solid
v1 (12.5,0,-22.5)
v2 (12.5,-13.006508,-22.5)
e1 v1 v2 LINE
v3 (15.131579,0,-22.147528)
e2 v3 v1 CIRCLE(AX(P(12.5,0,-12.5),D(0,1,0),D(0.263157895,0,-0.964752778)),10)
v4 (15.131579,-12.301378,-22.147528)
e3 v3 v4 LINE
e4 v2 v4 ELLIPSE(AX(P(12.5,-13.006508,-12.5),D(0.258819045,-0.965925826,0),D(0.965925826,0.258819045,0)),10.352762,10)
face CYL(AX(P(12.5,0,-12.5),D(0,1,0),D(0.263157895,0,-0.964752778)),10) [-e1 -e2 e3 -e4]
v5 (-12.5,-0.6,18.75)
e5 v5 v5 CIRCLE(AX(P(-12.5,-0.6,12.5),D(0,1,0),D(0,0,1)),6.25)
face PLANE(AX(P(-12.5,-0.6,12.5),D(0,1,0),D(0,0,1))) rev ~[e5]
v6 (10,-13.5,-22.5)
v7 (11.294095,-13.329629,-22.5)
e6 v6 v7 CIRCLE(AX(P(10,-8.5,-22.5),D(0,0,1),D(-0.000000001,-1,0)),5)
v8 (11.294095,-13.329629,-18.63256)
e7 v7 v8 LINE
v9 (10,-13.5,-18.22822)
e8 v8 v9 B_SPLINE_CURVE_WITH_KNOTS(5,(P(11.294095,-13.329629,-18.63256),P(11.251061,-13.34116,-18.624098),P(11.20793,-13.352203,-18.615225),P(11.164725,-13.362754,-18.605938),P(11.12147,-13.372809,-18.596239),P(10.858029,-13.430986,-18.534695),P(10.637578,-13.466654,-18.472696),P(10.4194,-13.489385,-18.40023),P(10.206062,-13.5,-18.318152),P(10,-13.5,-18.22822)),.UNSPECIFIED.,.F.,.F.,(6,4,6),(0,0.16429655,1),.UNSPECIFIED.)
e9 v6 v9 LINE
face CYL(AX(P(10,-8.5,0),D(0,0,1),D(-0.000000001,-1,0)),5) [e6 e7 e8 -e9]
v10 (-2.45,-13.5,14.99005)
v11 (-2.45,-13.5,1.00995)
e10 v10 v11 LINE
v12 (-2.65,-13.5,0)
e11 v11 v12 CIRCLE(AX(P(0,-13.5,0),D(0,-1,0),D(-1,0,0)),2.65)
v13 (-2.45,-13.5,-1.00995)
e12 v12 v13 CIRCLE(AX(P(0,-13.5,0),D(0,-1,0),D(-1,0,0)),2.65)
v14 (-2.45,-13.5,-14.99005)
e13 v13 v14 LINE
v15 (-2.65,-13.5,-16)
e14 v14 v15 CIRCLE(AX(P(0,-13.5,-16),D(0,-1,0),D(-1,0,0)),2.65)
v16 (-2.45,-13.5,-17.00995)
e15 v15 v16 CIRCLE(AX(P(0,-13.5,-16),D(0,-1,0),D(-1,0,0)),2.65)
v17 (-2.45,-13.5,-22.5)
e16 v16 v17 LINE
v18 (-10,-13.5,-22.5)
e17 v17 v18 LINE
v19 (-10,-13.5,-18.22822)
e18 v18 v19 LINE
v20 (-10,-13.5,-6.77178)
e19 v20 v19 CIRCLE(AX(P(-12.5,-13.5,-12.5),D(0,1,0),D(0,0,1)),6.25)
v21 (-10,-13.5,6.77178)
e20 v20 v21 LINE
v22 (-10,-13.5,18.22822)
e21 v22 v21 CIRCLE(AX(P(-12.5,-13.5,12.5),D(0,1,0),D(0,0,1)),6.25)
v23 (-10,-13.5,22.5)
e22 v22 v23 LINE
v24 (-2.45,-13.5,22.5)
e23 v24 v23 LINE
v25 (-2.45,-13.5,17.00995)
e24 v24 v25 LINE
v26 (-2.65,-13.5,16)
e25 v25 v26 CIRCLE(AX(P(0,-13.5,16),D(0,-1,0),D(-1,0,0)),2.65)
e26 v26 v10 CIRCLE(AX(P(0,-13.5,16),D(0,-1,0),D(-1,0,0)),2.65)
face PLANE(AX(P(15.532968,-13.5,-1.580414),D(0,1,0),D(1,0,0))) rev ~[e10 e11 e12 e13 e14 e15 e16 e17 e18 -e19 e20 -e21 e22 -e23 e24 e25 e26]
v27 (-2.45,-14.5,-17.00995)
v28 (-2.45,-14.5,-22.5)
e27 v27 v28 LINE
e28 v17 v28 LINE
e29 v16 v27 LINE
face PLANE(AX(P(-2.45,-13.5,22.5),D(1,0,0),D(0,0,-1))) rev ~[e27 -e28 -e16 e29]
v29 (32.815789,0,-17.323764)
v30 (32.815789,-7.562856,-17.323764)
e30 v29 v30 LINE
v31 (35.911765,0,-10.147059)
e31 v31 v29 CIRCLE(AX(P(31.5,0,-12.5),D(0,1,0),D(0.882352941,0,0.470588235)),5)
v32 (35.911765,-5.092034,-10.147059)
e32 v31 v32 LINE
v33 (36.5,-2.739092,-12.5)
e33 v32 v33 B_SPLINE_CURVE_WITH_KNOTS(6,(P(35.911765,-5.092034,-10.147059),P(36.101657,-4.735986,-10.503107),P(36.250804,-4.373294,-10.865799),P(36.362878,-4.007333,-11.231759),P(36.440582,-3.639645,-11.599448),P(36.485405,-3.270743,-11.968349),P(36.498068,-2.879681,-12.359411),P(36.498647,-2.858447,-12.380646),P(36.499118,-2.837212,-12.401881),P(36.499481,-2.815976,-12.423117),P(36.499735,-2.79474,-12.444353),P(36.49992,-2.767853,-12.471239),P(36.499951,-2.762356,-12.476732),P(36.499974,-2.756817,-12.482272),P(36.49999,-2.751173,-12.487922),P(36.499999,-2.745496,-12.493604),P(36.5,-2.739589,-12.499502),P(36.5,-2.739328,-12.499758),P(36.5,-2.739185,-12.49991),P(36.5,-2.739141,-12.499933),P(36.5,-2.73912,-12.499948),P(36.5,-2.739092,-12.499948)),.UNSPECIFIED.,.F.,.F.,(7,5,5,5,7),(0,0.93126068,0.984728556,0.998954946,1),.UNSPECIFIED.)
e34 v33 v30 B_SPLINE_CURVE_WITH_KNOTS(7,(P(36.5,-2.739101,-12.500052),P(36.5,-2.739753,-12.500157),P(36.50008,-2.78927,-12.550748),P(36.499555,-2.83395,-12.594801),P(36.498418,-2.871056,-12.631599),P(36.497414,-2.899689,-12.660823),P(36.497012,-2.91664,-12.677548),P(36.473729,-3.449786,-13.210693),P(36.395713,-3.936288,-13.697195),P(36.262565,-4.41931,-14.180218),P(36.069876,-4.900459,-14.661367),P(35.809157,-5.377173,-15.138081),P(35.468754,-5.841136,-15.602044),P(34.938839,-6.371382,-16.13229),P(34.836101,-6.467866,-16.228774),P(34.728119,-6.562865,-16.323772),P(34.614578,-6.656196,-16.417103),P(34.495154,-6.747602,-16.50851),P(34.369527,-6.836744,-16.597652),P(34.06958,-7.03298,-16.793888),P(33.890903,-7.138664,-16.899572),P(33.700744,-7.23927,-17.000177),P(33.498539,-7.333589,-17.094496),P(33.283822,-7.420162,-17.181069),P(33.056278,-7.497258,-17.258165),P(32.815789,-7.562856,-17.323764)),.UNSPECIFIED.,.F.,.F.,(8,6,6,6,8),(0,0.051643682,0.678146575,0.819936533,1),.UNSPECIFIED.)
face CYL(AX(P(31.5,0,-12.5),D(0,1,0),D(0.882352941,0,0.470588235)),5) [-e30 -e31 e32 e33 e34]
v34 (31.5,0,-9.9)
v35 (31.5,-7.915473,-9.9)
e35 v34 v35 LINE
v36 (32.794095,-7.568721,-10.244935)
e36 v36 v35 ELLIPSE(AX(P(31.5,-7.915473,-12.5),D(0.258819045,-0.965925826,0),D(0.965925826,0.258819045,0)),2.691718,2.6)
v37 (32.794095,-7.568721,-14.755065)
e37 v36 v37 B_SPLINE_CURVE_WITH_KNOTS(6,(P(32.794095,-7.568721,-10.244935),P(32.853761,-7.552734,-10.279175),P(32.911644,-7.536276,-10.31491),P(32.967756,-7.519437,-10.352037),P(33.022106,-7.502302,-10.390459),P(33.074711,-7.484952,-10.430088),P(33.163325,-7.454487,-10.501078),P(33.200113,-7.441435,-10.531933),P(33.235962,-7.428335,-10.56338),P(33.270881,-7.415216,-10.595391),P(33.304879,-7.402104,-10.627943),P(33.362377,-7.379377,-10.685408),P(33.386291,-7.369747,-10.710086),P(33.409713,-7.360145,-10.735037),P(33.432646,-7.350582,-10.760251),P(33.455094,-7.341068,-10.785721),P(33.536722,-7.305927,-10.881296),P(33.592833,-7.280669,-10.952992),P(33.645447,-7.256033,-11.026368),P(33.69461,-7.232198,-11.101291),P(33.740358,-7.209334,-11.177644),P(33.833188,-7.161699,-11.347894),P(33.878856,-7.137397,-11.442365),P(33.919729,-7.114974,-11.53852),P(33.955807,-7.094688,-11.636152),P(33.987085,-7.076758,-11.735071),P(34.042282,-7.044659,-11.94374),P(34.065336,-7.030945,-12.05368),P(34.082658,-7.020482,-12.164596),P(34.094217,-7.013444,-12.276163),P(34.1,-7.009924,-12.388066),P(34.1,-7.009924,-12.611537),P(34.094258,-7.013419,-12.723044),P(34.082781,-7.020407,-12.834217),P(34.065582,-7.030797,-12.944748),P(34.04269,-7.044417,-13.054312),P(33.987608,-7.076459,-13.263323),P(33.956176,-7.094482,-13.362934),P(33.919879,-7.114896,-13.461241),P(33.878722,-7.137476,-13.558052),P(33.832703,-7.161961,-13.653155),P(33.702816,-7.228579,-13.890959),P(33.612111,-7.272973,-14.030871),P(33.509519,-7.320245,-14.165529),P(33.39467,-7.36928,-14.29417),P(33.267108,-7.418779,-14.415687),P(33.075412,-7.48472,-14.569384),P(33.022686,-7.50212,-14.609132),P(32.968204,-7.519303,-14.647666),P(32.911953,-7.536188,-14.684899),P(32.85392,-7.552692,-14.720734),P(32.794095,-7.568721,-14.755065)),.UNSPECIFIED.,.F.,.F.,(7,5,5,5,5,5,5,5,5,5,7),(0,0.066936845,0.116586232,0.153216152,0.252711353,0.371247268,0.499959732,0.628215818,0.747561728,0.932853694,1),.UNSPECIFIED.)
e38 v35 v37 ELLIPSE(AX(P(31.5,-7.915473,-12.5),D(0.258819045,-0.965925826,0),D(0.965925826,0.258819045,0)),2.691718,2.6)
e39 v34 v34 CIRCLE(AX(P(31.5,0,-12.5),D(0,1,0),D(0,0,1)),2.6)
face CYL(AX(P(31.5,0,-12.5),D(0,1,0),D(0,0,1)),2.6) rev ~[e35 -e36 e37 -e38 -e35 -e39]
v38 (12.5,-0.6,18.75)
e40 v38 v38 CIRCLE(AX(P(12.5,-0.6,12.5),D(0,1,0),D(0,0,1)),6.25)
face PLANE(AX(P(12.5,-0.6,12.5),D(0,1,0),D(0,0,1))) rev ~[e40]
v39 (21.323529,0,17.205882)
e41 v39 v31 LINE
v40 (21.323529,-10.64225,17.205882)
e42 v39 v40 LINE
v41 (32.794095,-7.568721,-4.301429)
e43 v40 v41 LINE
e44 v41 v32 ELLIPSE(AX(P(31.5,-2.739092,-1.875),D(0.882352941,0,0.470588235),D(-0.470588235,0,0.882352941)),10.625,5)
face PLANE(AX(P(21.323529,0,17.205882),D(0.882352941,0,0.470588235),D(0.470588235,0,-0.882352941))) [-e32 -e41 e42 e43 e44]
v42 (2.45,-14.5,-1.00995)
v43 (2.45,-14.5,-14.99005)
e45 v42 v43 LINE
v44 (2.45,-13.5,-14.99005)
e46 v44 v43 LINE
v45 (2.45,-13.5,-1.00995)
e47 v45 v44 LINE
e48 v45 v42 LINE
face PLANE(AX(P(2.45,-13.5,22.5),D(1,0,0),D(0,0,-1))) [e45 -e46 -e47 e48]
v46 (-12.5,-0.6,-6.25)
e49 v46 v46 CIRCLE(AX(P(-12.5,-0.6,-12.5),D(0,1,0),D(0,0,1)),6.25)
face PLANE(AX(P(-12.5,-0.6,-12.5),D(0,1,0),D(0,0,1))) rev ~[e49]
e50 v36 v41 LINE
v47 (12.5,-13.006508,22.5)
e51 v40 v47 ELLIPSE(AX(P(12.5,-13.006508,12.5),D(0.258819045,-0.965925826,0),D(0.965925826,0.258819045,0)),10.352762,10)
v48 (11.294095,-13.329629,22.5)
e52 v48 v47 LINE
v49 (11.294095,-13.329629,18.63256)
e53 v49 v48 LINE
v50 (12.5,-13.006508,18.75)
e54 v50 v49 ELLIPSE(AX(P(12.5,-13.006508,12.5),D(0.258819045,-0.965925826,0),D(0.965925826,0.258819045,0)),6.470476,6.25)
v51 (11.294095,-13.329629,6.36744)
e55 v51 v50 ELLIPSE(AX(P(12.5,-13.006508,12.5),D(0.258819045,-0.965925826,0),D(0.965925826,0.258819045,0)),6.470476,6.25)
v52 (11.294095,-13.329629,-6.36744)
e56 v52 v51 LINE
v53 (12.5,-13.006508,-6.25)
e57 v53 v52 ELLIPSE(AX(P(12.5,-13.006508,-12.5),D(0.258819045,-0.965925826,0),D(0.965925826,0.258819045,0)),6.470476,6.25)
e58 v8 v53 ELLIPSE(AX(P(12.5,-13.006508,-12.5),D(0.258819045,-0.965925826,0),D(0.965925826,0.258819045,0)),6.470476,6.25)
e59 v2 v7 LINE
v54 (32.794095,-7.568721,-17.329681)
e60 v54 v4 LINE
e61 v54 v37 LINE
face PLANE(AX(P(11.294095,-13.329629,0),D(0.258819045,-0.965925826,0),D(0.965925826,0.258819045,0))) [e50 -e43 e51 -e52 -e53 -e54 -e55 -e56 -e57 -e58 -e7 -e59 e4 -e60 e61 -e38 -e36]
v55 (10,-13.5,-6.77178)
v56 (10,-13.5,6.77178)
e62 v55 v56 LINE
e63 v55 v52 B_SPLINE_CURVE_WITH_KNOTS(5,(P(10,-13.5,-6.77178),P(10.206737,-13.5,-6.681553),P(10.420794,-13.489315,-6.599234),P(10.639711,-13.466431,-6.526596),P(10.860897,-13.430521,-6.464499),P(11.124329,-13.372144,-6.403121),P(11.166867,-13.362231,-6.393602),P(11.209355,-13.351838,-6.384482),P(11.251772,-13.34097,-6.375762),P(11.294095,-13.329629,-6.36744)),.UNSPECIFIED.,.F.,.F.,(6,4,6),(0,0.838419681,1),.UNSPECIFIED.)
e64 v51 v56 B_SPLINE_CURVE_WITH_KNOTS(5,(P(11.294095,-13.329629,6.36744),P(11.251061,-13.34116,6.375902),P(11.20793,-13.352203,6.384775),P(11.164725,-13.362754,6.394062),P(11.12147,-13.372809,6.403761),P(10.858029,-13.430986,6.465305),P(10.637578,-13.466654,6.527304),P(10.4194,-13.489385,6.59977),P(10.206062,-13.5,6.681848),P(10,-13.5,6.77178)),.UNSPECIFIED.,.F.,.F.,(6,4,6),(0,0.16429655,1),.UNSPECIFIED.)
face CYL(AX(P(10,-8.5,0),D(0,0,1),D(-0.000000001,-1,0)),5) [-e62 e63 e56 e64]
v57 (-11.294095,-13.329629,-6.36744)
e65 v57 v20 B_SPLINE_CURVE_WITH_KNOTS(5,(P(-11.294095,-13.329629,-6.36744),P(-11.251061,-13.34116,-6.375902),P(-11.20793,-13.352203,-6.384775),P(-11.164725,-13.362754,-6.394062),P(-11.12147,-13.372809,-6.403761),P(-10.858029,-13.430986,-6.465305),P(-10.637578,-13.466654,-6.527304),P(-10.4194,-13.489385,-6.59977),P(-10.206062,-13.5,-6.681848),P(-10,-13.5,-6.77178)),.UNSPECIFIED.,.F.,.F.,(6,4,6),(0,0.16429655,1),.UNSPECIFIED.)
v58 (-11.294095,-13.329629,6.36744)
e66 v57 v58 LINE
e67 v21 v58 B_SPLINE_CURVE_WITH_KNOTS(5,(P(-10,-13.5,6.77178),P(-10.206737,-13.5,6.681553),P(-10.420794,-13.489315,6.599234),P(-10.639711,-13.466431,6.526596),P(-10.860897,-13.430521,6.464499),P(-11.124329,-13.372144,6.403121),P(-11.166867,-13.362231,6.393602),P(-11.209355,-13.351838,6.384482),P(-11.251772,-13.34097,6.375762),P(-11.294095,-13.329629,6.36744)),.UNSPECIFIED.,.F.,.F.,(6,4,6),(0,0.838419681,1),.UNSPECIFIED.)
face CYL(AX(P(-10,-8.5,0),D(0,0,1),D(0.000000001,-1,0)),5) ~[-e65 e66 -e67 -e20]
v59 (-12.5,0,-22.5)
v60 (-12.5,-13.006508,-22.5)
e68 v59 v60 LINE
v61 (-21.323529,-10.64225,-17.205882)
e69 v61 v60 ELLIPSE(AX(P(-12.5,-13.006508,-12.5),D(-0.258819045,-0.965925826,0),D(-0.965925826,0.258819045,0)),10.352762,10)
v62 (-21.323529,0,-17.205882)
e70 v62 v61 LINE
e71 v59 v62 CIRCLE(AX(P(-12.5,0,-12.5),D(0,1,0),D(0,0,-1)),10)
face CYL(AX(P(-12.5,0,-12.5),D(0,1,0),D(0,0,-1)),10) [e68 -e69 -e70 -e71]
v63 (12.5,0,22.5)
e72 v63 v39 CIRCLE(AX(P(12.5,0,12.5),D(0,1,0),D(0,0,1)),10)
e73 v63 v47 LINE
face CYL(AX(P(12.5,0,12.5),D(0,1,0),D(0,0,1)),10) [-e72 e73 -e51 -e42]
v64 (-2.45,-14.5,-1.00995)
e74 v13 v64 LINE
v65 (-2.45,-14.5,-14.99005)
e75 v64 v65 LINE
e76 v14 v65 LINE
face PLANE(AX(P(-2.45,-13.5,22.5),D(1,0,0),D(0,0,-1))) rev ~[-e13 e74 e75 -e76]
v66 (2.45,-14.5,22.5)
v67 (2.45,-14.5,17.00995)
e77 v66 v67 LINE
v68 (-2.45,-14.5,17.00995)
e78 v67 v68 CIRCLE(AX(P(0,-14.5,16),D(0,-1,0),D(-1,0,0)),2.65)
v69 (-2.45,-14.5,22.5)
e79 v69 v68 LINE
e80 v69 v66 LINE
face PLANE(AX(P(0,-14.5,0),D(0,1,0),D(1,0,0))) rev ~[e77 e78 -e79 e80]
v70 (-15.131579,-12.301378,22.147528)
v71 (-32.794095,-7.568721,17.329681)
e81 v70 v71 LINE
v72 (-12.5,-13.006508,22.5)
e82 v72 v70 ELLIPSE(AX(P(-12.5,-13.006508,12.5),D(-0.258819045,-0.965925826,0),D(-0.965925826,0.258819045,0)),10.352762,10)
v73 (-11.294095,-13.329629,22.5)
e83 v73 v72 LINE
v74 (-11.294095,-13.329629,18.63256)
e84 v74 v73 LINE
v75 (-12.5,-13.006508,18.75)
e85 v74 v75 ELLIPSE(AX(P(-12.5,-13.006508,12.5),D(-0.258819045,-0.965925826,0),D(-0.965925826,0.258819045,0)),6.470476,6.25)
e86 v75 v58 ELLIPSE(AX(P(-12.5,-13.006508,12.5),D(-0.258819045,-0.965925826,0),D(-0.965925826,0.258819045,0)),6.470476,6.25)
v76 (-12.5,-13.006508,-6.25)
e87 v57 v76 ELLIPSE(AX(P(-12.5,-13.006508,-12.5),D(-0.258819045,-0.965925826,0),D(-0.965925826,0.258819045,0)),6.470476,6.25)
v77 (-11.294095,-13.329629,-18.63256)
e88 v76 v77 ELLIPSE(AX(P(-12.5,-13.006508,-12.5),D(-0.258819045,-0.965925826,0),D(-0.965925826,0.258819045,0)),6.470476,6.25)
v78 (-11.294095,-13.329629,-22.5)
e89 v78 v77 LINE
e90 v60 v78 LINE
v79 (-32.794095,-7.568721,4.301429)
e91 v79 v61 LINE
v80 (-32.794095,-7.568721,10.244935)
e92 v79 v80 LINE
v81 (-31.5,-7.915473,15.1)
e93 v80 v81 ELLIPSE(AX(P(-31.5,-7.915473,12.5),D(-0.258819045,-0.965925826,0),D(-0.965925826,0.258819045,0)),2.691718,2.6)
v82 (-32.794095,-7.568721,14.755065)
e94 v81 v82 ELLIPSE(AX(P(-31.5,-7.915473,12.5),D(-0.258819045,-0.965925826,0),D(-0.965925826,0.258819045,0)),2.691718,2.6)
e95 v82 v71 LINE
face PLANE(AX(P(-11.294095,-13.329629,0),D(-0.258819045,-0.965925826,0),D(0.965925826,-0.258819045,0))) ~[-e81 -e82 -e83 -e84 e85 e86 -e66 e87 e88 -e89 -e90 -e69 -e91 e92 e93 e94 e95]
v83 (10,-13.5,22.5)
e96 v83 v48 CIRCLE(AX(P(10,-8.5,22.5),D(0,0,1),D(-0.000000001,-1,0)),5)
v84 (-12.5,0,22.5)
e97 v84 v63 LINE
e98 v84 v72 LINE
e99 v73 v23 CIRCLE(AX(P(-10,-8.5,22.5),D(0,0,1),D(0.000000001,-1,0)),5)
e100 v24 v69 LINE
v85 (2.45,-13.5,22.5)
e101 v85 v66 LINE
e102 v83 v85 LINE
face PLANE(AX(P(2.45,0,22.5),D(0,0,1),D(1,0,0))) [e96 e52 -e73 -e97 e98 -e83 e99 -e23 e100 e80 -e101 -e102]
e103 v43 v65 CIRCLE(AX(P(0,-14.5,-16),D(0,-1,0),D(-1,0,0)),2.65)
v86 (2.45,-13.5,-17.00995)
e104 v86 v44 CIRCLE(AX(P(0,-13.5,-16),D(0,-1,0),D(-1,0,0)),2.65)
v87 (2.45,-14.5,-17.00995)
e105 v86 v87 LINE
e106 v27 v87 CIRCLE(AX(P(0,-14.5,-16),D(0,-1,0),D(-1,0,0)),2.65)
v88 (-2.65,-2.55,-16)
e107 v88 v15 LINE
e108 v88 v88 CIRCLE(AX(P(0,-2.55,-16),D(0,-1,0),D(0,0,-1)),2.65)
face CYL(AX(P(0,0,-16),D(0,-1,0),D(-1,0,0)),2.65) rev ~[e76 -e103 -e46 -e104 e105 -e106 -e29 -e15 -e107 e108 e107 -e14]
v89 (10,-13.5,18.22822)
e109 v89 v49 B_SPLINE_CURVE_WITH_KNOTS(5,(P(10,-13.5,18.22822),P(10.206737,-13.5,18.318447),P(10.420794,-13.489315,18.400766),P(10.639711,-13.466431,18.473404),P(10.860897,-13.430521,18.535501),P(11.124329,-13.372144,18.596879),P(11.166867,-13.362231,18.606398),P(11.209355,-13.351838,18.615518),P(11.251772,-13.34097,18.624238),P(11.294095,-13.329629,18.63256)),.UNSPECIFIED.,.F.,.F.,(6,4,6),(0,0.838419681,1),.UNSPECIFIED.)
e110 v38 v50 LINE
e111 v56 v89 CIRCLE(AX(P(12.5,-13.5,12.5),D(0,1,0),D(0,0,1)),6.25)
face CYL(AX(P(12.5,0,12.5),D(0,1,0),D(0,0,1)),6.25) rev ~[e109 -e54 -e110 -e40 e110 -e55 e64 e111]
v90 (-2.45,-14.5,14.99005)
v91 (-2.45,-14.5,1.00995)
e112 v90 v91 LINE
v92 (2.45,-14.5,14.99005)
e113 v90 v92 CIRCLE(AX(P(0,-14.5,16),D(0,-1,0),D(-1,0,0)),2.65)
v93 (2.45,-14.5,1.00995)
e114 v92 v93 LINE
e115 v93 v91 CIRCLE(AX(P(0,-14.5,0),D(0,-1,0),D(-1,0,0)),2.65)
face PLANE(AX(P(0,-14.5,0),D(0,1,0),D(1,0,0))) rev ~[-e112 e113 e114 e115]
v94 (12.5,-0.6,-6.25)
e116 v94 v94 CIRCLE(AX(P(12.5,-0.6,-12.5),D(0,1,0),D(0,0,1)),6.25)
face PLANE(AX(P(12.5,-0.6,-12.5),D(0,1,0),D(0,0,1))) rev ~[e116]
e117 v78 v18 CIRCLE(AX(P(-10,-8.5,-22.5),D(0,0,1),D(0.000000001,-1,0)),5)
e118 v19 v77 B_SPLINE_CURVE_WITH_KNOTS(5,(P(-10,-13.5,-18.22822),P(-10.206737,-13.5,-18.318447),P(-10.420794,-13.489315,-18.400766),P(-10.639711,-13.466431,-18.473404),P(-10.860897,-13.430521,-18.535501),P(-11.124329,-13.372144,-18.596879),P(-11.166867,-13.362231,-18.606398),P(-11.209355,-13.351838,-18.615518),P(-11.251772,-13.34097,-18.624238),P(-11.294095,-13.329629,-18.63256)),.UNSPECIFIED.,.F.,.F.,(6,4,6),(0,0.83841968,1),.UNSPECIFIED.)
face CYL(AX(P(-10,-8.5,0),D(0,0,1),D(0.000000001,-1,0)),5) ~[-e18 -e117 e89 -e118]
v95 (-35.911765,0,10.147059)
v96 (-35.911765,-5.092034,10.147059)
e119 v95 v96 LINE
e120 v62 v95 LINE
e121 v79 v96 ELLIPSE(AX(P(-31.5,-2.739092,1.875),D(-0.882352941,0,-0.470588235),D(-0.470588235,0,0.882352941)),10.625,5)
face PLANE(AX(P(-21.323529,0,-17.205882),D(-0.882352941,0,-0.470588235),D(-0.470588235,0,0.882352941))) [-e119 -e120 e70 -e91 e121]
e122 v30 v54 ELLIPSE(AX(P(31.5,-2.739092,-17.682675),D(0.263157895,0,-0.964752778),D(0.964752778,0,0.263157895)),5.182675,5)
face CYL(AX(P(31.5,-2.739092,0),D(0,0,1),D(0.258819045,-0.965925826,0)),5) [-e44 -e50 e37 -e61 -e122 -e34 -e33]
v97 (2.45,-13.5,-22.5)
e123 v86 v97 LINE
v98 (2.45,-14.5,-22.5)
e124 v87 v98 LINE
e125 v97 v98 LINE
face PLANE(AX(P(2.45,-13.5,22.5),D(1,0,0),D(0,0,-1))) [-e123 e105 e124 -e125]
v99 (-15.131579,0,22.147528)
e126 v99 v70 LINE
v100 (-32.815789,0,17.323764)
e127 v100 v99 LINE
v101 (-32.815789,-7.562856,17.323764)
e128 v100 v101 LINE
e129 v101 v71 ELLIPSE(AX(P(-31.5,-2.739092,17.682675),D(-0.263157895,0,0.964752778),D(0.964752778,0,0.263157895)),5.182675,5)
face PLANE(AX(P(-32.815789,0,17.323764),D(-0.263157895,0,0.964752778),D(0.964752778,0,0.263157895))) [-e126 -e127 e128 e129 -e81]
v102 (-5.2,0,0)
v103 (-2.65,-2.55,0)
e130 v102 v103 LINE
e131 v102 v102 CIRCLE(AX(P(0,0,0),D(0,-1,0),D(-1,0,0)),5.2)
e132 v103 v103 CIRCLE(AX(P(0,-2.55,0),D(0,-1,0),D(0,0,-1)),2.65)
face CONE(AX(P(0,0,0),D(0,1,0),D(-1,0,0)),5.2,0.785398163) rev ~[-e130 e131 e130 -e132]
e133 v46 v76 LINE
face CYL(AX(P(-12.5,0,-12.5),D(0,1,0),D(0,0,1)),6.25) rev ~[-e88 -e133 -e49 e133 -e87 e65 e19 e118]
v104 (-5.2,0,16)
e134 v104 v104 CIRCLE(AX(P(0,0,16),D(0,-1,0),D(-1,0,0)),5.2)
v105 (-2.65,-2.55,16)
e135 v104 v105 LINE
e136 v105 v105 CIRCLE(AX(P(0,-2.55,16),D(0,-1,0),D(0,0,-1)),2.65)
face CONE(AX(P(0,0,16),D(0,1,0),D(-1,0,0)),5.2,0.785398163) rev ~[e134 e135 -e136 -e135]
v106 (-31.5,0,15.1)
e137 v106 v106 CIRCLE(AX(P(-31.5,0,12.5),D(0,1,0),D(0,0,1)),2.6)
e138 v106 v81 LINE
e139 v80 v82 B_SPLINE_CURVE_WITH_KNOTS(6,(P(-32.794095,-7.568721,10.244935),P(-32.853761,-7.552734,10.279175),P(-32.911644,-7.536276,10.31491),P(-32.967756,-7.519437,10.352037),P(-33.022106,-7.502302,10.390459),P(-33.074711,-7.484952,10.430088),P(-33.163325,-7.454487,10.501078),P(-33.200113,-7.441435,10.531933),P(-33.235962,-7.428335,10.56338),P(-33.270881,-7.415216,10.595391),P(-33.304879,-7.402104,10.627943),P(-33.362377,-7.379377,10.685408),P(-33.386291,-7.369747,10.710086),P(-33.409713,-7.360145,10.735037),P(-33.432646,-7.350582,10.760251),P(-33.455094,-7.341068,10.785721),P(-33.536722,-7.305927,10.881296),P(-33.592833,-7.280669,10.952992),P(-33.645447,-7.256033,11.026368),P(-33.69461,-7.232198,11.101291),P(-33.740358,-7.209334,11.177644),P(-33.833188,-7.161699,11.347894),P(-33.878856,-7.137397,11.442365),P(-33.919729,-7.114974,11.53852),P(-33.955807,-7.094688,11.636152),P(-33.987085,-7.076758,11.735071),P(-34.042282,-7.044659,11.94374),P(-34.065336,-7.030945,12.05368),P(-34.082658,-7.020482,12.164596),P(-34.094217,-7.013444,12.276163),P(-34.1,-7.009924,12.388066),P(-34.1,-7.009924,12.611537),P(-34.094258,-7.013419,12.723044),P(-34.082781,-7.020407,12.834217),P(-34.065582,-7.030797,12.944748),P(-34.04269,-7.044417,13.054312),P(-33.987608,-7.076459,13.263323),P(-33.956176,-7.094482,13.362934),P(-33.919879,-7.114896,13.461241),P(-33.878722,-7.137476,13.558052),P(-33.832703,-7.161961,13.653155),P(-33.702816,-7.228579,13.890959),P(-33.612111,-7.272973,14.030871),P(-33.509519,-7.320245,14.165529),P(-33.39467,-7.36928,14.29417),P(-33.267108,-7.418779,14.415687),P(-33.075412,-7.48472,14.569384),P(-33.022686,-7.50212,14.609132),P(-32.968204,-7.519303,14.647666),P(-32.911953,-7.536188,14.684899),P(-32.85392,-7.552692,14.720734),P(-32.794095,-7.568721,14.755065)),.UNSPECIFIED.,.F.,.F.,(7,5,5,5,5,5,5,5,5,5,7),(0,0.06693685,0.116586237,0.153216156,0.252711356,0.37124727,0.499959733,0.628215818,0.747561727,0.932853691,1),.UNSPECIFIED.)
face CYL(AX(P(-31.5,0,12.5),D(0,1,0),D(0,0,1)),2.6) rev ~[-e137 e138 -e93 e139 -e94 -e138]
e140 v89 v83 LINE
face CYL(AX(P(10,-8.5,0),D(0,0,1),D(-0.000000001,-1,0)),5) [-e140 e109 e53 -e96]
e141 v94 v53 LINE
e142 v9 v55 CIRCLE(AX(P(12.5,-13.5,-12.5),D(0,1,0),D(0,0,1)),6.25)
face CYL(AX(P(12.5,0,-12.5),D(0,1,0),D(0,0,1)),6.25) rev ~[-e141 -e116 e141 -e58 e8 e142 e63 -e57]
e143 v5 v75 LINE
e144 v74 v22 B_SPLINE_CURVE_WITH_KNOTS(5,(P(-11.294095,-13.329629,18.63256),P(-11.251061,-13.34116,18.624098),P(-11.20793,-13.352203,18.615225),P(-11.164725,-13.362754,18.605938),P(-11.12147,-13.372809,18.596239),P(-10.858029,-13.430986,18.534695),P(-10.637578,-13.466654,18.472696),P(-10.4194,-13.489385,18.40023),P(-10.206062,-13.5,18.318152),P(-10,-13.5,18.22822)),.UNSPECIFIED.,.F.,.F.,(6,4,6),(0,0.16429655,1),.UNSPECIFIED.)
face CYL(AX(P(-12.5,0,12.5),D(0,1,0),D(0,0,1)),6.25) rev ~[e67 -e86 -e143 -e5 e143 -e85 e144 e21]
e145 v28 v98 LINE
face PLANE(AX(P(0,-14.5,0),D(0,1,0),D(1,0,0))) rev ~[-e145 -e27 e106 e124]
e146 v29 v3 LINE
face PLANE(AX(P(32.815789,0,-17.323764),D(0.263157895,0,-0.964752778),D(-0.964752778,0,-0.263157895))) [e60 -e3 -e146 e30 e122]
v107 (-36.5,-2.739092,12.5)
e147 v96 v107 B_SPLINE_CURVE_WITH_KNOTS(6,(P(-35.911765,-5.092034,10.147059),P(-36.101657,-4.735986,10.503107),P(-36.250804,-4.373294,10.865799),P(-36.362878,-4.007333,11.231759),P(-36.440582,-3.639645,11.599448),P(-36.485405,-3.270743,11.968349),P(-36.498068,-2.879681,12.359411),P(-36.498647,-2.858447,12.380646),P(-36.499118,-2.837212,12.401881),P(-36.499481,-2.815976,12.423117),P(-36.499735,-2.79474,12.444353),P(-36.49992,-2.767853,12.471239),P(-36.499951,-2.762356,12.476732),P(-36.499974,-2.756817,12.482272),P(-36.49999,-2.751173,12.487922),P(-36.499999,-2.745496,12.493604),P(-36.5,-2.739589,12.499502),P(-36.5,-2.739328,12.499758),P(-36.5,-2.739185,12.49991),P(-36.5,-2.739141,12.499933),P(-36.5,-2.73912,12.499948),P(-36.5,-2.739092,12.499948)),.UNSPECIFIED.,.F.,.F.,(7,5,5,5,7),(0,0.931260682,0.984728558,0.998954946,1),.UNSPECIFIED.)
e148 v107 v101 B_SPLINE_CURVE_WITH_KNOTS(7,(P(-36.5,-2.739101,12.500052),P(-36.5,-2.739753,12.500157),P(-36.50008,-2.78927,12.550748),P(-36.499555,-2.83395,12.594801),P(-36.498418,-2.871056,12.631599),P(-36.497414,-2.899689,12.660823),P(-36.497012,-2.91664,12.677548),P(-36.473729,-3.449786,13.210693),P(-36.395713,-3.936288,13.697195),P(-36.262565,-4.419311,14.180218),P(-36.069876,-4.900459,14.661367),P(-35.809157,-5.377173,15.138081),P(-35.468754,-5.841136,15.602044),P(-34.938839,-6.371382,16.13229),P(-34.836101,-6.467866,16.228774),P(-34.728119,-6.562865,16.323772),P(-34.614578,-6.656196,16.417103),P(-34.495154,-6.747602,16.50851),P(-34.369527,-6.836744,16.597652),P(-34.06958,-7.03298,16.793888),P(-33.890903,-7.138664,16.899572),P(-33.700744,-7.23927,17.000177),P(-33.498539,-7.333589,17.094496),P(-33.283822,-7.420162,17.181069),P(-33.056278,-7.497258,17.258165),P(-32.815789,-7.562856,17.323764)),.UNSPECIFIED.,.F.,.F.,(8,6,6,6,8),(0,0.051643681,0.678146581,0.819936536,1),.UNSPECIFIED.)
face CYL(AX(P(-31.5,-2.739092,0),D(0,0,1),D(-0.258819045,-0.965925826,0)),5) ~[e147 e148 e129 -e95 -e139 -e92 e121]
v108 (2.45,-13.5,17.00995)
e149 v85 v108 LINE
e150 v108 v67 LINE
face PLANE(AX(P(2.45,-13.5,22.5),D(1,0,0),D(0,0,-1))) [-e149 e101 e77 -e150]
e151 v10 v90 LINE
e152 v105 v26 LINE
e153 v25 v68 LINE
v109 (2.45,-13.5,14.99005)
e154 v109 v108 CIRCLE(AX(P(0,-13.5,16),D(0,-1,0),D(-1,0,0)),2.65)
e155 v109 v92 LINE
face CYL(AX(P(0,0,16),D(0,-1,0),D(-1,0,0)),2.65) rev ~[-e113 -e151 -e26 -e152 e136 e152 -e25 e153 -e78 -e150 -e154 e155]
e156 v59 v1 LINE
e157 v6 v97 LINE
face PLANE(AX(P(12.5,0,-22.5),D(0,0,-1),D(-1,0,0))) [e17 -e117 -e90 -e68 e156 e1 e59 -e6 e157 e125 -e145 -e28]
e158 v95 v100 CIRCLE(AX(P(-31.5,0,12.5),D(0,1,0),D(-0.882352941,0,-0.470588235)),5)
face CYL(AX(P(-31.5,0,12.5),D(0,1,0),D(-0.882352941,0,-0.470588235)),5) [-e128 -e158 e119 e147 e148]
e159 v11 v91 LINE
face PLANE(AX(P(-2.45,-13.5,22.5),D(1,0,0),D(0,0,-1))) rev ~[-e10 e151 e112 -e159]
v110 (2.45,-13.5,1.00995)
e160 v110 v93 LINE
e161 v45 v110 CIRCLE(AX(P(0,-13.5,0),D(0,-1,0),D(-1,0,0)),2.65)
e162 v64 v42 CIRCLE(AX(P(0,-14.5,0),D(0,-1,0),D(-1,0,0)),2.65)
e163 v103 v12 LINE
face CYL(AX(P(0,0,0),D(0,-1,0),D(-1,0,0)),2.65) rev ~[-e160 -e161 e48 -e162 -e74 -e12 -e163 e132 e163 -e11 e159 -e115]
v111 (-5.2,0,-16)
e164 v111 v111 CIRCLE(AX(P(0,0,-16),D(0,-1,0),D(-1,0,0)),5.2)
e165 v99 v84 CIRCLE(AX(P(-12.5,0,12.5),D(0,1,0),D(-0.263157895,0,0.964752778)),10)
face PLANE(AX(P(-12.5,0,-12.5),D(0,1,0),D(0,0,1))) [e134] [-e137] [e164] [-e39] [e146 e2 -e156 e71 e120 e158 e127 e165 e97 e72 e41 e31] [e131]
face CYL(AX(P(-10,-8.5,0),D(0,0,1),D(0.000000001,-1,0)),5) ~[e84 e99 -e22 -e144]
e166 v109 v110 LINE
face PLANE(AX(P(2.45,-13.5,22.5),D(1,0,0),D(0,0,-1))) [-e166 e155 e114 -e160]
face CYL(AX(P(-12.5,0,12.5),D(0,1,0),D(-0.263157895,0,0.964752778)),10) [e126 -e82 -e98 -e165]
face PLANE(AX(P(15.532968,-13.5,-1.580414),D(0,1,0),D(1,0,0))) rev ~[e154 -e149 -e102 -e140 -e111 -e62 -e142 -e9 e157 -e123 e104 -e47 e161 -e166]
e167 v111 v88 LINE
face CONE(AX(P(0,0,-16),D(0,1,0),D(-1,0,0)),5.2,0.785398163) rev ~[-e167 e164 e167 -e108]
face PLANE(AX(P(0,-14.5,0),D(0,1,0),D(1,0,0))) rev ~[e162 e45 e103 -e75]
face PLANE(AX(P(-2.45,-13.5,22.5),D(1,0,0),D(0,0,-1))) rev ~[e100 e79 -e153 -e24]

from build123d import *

# Parameters (mm, degrees)
SKETCH1_R                                       = 2.6
SKETCH1_R_2                                     = 6.25
SKETCH1_W                                       = 4.9
SKETCH1_H                                       = 45
BOSS_EXTRUDE1_DEPTH                             = 13.5
SKETCH1_3_R                                     = 6.25
BOSS_EXTRUDE2_DEPTH                             = 0.6
BOSS_EXTRUDE3_START                             = -13.5
SKETCH1_4_W                                     = 4.9
SKETCH1_4_H                                     = 45
BOSS_EXTRUDE3_DEPTH                             = 1
CSK_FOR_M5_FLAT_HEAD_MACHINE_SCREW2_D           = 5.3
CSK_FOR_M5_FLAT_HEAD_MACHINE_SCREW2_CSINK_D     = 10.4
CSK_FOR_M5_FLAT_HEAD_MACHINE_SCREW2_CSINK_ANGLE = 90
CUT_EXTRUDE1_DEPTH                              = 46.263119645


with BuildPart() as part:
    # Sketch1 → Boss-Extrude1 (new body)
    # profile 1 of 3: a face of its own
    with BuildSketch(Plane(origin=(0, 0, 0), x_dir=(1, 0, 0), z_dir=(0, 1, 0))):
        with BuildLine():
            Line((-2.45, 22.5), (-12.5, 22.5))
            ThreePointArc((-12.5, 22.5), (-17.644957554, 21.074929257), (-21.323529412, 17.205882353))
            Line((-21.323529412, 17.205882353), (-35.911764706, -10.147058824))
            ThreePointArc((-35.911764706, -10.147058824), (-36.091023102, -14.480531969), (-32.815789474, -17.323763889))
            Line((-32.815789474, -17.323763889), (-15.131578947, -22.147527779))
            ThreePointArc((-15.131578947, -22.147527779), (-13.827539493, -22.411490246), (-12.5, -22.5))
            Line((-12.5, -22.5), (-2.45, -22.5))
            Line((-2.45, -22.5), (-2.45, 22.5))
        make_face()
        with Locations(Location((-31.5, -12.5, 0), (0, 0, 270))):
            Circle(SKETCH1_R, mode=Mode.SUBTRACT)
        with Locations(Location((-12.5, -12.5, 0), (0, 0, 270))):
            Circle(SKETCH1_R_2, mode=Mode.SUBTRACT)
        with Locations(Location((-12.5, 12.5, 0), (0, 0, 270))):
            Circle(SKETCH1_R_2, mode=Mode.SUBTRACT)
    # profile 2 of 3: a face of its own
    with BuildSketch(Plane(origin=(0, 0, 0), x_dir=(1, 0, 0), z_dir=(0, 1, 0))):
        Rectangle(SKETCH1_W, SKETCH1_H)
    # profile 3 of 3: a face of its own
    with BuildSketch(Plane(origin=(0, 0, 0), x_dir=(1, 0, 0), z_dir=(0, 1, 0))):
        with BuildLine():
            Line((12.5, 22.5), (2.45, 22.5))
            Line((2.45, 22.5), (2.45, -22.5))
            Line((2.45, -22.5), (12.5, -22.5))
            ThreePointArc((12.5, -22.5), (17.644957554, -21.074929257), (21.323529412, -17.205882353))
            Line((21.323529412, -17.205882353), (35.911764706, 10.147058824))
            ThreePointArc((35.911764706, 10.147058824), (36.091023102, 14.480531969), (32.815789474, 17.323763889))
            Line((32.815789474, 17.323763889), (15.131578947, 22.147527779))
            ThreePointArc((15.131578947, 22.147527779), (13.827539493, 22.411490246), (12.5, 22.5))
        make_face()
        with Locations(Location((12.5, -12.5, 0), (0, 0, 270))):
            Circle(SKETCH1_R_2, mode=Mode.SUBTRACT)
        with Locations(Location((12.5, 12.5, 0), (0, 0, 270))):
            Circle(SKETCH1_R_2, mode=Mode.SUBTRACT)
        with Locations(Location((31.5, 12.5, 0), (0, 0, 270))):
            Circle(SKETCH1_R, mode=Mode.SUBTRACT)
    extrude(amount=-BOSS_EXTRUDE1_DEPTH)

    # Sketch1<3> → Boss-Extrude2 (add)
    with BuildSketch(Plane(origin=(0, 0, 0), x_dir=(1, 0, 0), z_dir=(0, 1, 0))):
        with Locations(Location((-12.5, 12.5, 0), (0, 0, 270))):
            Circle(SKETCH1_3_R)
        with Locations(Location((12.5, 12.5, 0), (0, 0, 270))):
            Circle(SKETCH1_3_R)
        with Locations(Location((12.5, -12.5, 0), (0, 0, 270))):
            Circle(SKETCH1_3_R)
        with Locations(Location((-12.5, -12.5, 0), (0, 0, 270))):
            Circle(SKETCH1_3_R)
    extrude(amount=-BOSS_EXTRUDE2_DEPTH)

    # Sketch1<4> → Boss-Extrude3 (add)
    with BuildSketch(Plane(origin=(0, 0, 0), x_dir=(1, 0, 0), z_dir=(0, 1, 0)).offset(BOSS_EXTRUDE3_START)):
        Rectangle(SKETCH1_4_W, SKETCH1_4_H)
    extrude(amount=-BOSS_EXTRUDE3_DEPTH)

    # CSK for M5 Flat Head Machine Screw2 (through all)
    with Locations(Plane(origin=(0, 0, 0), x_dir=(1, 0, 0), z_dir=(0, 1, 0))):
        with Locations((0, 16), (0, 0), (0, -16)):
            CounterSinkHole(CSK_FOR_M5_FLAT_HEAD_MACHINE_SCREW2_D / 2, CSK_FOR_M5_FLAT_HEAD_MACHINE_SCREW2_CSINK_D / 2, counter_sink_angle=CSK_FOR_M5_FLAT_HEAD_MACHINE_SCREW2_CSINK_ANGLE)

    # Sketch8 → Cut-Extrude1 (cut, symmetric)
    with BuildSketch(Plane.XY):
        with BuildLine():
            ThreePointArc((32.794095226, -7.568721494), (35.466766701, -5.782899508), (36.5, -2.739092363))
            Line((36.5, -2.739092363), (36.5, -13.5))
            Line((36.5, -13.5), (10, -13.5))
            ThreePointArc((10, -13.5), (10.652630961, -13.457224307), (11.294095226, -13.329629131))
            Line((11.294095226, -13.329629131), (32.794095226, -7.568721494))
        make_face()
    cut_extrude1 = extrude(amount=CUT_EXTRUDE1_DEPTH, both=True, mode=Mode.SUBTRACT)

    # Mirror1: Cut-Extrude1 across plane
    add(cut_extrude1.mirror(Plane(origin=(0, 0, 0), x_dir=(0, 0, 1), z_dir=(1, 0, 0))), mode=Mode.SUBTRACT)


solid = part.part
